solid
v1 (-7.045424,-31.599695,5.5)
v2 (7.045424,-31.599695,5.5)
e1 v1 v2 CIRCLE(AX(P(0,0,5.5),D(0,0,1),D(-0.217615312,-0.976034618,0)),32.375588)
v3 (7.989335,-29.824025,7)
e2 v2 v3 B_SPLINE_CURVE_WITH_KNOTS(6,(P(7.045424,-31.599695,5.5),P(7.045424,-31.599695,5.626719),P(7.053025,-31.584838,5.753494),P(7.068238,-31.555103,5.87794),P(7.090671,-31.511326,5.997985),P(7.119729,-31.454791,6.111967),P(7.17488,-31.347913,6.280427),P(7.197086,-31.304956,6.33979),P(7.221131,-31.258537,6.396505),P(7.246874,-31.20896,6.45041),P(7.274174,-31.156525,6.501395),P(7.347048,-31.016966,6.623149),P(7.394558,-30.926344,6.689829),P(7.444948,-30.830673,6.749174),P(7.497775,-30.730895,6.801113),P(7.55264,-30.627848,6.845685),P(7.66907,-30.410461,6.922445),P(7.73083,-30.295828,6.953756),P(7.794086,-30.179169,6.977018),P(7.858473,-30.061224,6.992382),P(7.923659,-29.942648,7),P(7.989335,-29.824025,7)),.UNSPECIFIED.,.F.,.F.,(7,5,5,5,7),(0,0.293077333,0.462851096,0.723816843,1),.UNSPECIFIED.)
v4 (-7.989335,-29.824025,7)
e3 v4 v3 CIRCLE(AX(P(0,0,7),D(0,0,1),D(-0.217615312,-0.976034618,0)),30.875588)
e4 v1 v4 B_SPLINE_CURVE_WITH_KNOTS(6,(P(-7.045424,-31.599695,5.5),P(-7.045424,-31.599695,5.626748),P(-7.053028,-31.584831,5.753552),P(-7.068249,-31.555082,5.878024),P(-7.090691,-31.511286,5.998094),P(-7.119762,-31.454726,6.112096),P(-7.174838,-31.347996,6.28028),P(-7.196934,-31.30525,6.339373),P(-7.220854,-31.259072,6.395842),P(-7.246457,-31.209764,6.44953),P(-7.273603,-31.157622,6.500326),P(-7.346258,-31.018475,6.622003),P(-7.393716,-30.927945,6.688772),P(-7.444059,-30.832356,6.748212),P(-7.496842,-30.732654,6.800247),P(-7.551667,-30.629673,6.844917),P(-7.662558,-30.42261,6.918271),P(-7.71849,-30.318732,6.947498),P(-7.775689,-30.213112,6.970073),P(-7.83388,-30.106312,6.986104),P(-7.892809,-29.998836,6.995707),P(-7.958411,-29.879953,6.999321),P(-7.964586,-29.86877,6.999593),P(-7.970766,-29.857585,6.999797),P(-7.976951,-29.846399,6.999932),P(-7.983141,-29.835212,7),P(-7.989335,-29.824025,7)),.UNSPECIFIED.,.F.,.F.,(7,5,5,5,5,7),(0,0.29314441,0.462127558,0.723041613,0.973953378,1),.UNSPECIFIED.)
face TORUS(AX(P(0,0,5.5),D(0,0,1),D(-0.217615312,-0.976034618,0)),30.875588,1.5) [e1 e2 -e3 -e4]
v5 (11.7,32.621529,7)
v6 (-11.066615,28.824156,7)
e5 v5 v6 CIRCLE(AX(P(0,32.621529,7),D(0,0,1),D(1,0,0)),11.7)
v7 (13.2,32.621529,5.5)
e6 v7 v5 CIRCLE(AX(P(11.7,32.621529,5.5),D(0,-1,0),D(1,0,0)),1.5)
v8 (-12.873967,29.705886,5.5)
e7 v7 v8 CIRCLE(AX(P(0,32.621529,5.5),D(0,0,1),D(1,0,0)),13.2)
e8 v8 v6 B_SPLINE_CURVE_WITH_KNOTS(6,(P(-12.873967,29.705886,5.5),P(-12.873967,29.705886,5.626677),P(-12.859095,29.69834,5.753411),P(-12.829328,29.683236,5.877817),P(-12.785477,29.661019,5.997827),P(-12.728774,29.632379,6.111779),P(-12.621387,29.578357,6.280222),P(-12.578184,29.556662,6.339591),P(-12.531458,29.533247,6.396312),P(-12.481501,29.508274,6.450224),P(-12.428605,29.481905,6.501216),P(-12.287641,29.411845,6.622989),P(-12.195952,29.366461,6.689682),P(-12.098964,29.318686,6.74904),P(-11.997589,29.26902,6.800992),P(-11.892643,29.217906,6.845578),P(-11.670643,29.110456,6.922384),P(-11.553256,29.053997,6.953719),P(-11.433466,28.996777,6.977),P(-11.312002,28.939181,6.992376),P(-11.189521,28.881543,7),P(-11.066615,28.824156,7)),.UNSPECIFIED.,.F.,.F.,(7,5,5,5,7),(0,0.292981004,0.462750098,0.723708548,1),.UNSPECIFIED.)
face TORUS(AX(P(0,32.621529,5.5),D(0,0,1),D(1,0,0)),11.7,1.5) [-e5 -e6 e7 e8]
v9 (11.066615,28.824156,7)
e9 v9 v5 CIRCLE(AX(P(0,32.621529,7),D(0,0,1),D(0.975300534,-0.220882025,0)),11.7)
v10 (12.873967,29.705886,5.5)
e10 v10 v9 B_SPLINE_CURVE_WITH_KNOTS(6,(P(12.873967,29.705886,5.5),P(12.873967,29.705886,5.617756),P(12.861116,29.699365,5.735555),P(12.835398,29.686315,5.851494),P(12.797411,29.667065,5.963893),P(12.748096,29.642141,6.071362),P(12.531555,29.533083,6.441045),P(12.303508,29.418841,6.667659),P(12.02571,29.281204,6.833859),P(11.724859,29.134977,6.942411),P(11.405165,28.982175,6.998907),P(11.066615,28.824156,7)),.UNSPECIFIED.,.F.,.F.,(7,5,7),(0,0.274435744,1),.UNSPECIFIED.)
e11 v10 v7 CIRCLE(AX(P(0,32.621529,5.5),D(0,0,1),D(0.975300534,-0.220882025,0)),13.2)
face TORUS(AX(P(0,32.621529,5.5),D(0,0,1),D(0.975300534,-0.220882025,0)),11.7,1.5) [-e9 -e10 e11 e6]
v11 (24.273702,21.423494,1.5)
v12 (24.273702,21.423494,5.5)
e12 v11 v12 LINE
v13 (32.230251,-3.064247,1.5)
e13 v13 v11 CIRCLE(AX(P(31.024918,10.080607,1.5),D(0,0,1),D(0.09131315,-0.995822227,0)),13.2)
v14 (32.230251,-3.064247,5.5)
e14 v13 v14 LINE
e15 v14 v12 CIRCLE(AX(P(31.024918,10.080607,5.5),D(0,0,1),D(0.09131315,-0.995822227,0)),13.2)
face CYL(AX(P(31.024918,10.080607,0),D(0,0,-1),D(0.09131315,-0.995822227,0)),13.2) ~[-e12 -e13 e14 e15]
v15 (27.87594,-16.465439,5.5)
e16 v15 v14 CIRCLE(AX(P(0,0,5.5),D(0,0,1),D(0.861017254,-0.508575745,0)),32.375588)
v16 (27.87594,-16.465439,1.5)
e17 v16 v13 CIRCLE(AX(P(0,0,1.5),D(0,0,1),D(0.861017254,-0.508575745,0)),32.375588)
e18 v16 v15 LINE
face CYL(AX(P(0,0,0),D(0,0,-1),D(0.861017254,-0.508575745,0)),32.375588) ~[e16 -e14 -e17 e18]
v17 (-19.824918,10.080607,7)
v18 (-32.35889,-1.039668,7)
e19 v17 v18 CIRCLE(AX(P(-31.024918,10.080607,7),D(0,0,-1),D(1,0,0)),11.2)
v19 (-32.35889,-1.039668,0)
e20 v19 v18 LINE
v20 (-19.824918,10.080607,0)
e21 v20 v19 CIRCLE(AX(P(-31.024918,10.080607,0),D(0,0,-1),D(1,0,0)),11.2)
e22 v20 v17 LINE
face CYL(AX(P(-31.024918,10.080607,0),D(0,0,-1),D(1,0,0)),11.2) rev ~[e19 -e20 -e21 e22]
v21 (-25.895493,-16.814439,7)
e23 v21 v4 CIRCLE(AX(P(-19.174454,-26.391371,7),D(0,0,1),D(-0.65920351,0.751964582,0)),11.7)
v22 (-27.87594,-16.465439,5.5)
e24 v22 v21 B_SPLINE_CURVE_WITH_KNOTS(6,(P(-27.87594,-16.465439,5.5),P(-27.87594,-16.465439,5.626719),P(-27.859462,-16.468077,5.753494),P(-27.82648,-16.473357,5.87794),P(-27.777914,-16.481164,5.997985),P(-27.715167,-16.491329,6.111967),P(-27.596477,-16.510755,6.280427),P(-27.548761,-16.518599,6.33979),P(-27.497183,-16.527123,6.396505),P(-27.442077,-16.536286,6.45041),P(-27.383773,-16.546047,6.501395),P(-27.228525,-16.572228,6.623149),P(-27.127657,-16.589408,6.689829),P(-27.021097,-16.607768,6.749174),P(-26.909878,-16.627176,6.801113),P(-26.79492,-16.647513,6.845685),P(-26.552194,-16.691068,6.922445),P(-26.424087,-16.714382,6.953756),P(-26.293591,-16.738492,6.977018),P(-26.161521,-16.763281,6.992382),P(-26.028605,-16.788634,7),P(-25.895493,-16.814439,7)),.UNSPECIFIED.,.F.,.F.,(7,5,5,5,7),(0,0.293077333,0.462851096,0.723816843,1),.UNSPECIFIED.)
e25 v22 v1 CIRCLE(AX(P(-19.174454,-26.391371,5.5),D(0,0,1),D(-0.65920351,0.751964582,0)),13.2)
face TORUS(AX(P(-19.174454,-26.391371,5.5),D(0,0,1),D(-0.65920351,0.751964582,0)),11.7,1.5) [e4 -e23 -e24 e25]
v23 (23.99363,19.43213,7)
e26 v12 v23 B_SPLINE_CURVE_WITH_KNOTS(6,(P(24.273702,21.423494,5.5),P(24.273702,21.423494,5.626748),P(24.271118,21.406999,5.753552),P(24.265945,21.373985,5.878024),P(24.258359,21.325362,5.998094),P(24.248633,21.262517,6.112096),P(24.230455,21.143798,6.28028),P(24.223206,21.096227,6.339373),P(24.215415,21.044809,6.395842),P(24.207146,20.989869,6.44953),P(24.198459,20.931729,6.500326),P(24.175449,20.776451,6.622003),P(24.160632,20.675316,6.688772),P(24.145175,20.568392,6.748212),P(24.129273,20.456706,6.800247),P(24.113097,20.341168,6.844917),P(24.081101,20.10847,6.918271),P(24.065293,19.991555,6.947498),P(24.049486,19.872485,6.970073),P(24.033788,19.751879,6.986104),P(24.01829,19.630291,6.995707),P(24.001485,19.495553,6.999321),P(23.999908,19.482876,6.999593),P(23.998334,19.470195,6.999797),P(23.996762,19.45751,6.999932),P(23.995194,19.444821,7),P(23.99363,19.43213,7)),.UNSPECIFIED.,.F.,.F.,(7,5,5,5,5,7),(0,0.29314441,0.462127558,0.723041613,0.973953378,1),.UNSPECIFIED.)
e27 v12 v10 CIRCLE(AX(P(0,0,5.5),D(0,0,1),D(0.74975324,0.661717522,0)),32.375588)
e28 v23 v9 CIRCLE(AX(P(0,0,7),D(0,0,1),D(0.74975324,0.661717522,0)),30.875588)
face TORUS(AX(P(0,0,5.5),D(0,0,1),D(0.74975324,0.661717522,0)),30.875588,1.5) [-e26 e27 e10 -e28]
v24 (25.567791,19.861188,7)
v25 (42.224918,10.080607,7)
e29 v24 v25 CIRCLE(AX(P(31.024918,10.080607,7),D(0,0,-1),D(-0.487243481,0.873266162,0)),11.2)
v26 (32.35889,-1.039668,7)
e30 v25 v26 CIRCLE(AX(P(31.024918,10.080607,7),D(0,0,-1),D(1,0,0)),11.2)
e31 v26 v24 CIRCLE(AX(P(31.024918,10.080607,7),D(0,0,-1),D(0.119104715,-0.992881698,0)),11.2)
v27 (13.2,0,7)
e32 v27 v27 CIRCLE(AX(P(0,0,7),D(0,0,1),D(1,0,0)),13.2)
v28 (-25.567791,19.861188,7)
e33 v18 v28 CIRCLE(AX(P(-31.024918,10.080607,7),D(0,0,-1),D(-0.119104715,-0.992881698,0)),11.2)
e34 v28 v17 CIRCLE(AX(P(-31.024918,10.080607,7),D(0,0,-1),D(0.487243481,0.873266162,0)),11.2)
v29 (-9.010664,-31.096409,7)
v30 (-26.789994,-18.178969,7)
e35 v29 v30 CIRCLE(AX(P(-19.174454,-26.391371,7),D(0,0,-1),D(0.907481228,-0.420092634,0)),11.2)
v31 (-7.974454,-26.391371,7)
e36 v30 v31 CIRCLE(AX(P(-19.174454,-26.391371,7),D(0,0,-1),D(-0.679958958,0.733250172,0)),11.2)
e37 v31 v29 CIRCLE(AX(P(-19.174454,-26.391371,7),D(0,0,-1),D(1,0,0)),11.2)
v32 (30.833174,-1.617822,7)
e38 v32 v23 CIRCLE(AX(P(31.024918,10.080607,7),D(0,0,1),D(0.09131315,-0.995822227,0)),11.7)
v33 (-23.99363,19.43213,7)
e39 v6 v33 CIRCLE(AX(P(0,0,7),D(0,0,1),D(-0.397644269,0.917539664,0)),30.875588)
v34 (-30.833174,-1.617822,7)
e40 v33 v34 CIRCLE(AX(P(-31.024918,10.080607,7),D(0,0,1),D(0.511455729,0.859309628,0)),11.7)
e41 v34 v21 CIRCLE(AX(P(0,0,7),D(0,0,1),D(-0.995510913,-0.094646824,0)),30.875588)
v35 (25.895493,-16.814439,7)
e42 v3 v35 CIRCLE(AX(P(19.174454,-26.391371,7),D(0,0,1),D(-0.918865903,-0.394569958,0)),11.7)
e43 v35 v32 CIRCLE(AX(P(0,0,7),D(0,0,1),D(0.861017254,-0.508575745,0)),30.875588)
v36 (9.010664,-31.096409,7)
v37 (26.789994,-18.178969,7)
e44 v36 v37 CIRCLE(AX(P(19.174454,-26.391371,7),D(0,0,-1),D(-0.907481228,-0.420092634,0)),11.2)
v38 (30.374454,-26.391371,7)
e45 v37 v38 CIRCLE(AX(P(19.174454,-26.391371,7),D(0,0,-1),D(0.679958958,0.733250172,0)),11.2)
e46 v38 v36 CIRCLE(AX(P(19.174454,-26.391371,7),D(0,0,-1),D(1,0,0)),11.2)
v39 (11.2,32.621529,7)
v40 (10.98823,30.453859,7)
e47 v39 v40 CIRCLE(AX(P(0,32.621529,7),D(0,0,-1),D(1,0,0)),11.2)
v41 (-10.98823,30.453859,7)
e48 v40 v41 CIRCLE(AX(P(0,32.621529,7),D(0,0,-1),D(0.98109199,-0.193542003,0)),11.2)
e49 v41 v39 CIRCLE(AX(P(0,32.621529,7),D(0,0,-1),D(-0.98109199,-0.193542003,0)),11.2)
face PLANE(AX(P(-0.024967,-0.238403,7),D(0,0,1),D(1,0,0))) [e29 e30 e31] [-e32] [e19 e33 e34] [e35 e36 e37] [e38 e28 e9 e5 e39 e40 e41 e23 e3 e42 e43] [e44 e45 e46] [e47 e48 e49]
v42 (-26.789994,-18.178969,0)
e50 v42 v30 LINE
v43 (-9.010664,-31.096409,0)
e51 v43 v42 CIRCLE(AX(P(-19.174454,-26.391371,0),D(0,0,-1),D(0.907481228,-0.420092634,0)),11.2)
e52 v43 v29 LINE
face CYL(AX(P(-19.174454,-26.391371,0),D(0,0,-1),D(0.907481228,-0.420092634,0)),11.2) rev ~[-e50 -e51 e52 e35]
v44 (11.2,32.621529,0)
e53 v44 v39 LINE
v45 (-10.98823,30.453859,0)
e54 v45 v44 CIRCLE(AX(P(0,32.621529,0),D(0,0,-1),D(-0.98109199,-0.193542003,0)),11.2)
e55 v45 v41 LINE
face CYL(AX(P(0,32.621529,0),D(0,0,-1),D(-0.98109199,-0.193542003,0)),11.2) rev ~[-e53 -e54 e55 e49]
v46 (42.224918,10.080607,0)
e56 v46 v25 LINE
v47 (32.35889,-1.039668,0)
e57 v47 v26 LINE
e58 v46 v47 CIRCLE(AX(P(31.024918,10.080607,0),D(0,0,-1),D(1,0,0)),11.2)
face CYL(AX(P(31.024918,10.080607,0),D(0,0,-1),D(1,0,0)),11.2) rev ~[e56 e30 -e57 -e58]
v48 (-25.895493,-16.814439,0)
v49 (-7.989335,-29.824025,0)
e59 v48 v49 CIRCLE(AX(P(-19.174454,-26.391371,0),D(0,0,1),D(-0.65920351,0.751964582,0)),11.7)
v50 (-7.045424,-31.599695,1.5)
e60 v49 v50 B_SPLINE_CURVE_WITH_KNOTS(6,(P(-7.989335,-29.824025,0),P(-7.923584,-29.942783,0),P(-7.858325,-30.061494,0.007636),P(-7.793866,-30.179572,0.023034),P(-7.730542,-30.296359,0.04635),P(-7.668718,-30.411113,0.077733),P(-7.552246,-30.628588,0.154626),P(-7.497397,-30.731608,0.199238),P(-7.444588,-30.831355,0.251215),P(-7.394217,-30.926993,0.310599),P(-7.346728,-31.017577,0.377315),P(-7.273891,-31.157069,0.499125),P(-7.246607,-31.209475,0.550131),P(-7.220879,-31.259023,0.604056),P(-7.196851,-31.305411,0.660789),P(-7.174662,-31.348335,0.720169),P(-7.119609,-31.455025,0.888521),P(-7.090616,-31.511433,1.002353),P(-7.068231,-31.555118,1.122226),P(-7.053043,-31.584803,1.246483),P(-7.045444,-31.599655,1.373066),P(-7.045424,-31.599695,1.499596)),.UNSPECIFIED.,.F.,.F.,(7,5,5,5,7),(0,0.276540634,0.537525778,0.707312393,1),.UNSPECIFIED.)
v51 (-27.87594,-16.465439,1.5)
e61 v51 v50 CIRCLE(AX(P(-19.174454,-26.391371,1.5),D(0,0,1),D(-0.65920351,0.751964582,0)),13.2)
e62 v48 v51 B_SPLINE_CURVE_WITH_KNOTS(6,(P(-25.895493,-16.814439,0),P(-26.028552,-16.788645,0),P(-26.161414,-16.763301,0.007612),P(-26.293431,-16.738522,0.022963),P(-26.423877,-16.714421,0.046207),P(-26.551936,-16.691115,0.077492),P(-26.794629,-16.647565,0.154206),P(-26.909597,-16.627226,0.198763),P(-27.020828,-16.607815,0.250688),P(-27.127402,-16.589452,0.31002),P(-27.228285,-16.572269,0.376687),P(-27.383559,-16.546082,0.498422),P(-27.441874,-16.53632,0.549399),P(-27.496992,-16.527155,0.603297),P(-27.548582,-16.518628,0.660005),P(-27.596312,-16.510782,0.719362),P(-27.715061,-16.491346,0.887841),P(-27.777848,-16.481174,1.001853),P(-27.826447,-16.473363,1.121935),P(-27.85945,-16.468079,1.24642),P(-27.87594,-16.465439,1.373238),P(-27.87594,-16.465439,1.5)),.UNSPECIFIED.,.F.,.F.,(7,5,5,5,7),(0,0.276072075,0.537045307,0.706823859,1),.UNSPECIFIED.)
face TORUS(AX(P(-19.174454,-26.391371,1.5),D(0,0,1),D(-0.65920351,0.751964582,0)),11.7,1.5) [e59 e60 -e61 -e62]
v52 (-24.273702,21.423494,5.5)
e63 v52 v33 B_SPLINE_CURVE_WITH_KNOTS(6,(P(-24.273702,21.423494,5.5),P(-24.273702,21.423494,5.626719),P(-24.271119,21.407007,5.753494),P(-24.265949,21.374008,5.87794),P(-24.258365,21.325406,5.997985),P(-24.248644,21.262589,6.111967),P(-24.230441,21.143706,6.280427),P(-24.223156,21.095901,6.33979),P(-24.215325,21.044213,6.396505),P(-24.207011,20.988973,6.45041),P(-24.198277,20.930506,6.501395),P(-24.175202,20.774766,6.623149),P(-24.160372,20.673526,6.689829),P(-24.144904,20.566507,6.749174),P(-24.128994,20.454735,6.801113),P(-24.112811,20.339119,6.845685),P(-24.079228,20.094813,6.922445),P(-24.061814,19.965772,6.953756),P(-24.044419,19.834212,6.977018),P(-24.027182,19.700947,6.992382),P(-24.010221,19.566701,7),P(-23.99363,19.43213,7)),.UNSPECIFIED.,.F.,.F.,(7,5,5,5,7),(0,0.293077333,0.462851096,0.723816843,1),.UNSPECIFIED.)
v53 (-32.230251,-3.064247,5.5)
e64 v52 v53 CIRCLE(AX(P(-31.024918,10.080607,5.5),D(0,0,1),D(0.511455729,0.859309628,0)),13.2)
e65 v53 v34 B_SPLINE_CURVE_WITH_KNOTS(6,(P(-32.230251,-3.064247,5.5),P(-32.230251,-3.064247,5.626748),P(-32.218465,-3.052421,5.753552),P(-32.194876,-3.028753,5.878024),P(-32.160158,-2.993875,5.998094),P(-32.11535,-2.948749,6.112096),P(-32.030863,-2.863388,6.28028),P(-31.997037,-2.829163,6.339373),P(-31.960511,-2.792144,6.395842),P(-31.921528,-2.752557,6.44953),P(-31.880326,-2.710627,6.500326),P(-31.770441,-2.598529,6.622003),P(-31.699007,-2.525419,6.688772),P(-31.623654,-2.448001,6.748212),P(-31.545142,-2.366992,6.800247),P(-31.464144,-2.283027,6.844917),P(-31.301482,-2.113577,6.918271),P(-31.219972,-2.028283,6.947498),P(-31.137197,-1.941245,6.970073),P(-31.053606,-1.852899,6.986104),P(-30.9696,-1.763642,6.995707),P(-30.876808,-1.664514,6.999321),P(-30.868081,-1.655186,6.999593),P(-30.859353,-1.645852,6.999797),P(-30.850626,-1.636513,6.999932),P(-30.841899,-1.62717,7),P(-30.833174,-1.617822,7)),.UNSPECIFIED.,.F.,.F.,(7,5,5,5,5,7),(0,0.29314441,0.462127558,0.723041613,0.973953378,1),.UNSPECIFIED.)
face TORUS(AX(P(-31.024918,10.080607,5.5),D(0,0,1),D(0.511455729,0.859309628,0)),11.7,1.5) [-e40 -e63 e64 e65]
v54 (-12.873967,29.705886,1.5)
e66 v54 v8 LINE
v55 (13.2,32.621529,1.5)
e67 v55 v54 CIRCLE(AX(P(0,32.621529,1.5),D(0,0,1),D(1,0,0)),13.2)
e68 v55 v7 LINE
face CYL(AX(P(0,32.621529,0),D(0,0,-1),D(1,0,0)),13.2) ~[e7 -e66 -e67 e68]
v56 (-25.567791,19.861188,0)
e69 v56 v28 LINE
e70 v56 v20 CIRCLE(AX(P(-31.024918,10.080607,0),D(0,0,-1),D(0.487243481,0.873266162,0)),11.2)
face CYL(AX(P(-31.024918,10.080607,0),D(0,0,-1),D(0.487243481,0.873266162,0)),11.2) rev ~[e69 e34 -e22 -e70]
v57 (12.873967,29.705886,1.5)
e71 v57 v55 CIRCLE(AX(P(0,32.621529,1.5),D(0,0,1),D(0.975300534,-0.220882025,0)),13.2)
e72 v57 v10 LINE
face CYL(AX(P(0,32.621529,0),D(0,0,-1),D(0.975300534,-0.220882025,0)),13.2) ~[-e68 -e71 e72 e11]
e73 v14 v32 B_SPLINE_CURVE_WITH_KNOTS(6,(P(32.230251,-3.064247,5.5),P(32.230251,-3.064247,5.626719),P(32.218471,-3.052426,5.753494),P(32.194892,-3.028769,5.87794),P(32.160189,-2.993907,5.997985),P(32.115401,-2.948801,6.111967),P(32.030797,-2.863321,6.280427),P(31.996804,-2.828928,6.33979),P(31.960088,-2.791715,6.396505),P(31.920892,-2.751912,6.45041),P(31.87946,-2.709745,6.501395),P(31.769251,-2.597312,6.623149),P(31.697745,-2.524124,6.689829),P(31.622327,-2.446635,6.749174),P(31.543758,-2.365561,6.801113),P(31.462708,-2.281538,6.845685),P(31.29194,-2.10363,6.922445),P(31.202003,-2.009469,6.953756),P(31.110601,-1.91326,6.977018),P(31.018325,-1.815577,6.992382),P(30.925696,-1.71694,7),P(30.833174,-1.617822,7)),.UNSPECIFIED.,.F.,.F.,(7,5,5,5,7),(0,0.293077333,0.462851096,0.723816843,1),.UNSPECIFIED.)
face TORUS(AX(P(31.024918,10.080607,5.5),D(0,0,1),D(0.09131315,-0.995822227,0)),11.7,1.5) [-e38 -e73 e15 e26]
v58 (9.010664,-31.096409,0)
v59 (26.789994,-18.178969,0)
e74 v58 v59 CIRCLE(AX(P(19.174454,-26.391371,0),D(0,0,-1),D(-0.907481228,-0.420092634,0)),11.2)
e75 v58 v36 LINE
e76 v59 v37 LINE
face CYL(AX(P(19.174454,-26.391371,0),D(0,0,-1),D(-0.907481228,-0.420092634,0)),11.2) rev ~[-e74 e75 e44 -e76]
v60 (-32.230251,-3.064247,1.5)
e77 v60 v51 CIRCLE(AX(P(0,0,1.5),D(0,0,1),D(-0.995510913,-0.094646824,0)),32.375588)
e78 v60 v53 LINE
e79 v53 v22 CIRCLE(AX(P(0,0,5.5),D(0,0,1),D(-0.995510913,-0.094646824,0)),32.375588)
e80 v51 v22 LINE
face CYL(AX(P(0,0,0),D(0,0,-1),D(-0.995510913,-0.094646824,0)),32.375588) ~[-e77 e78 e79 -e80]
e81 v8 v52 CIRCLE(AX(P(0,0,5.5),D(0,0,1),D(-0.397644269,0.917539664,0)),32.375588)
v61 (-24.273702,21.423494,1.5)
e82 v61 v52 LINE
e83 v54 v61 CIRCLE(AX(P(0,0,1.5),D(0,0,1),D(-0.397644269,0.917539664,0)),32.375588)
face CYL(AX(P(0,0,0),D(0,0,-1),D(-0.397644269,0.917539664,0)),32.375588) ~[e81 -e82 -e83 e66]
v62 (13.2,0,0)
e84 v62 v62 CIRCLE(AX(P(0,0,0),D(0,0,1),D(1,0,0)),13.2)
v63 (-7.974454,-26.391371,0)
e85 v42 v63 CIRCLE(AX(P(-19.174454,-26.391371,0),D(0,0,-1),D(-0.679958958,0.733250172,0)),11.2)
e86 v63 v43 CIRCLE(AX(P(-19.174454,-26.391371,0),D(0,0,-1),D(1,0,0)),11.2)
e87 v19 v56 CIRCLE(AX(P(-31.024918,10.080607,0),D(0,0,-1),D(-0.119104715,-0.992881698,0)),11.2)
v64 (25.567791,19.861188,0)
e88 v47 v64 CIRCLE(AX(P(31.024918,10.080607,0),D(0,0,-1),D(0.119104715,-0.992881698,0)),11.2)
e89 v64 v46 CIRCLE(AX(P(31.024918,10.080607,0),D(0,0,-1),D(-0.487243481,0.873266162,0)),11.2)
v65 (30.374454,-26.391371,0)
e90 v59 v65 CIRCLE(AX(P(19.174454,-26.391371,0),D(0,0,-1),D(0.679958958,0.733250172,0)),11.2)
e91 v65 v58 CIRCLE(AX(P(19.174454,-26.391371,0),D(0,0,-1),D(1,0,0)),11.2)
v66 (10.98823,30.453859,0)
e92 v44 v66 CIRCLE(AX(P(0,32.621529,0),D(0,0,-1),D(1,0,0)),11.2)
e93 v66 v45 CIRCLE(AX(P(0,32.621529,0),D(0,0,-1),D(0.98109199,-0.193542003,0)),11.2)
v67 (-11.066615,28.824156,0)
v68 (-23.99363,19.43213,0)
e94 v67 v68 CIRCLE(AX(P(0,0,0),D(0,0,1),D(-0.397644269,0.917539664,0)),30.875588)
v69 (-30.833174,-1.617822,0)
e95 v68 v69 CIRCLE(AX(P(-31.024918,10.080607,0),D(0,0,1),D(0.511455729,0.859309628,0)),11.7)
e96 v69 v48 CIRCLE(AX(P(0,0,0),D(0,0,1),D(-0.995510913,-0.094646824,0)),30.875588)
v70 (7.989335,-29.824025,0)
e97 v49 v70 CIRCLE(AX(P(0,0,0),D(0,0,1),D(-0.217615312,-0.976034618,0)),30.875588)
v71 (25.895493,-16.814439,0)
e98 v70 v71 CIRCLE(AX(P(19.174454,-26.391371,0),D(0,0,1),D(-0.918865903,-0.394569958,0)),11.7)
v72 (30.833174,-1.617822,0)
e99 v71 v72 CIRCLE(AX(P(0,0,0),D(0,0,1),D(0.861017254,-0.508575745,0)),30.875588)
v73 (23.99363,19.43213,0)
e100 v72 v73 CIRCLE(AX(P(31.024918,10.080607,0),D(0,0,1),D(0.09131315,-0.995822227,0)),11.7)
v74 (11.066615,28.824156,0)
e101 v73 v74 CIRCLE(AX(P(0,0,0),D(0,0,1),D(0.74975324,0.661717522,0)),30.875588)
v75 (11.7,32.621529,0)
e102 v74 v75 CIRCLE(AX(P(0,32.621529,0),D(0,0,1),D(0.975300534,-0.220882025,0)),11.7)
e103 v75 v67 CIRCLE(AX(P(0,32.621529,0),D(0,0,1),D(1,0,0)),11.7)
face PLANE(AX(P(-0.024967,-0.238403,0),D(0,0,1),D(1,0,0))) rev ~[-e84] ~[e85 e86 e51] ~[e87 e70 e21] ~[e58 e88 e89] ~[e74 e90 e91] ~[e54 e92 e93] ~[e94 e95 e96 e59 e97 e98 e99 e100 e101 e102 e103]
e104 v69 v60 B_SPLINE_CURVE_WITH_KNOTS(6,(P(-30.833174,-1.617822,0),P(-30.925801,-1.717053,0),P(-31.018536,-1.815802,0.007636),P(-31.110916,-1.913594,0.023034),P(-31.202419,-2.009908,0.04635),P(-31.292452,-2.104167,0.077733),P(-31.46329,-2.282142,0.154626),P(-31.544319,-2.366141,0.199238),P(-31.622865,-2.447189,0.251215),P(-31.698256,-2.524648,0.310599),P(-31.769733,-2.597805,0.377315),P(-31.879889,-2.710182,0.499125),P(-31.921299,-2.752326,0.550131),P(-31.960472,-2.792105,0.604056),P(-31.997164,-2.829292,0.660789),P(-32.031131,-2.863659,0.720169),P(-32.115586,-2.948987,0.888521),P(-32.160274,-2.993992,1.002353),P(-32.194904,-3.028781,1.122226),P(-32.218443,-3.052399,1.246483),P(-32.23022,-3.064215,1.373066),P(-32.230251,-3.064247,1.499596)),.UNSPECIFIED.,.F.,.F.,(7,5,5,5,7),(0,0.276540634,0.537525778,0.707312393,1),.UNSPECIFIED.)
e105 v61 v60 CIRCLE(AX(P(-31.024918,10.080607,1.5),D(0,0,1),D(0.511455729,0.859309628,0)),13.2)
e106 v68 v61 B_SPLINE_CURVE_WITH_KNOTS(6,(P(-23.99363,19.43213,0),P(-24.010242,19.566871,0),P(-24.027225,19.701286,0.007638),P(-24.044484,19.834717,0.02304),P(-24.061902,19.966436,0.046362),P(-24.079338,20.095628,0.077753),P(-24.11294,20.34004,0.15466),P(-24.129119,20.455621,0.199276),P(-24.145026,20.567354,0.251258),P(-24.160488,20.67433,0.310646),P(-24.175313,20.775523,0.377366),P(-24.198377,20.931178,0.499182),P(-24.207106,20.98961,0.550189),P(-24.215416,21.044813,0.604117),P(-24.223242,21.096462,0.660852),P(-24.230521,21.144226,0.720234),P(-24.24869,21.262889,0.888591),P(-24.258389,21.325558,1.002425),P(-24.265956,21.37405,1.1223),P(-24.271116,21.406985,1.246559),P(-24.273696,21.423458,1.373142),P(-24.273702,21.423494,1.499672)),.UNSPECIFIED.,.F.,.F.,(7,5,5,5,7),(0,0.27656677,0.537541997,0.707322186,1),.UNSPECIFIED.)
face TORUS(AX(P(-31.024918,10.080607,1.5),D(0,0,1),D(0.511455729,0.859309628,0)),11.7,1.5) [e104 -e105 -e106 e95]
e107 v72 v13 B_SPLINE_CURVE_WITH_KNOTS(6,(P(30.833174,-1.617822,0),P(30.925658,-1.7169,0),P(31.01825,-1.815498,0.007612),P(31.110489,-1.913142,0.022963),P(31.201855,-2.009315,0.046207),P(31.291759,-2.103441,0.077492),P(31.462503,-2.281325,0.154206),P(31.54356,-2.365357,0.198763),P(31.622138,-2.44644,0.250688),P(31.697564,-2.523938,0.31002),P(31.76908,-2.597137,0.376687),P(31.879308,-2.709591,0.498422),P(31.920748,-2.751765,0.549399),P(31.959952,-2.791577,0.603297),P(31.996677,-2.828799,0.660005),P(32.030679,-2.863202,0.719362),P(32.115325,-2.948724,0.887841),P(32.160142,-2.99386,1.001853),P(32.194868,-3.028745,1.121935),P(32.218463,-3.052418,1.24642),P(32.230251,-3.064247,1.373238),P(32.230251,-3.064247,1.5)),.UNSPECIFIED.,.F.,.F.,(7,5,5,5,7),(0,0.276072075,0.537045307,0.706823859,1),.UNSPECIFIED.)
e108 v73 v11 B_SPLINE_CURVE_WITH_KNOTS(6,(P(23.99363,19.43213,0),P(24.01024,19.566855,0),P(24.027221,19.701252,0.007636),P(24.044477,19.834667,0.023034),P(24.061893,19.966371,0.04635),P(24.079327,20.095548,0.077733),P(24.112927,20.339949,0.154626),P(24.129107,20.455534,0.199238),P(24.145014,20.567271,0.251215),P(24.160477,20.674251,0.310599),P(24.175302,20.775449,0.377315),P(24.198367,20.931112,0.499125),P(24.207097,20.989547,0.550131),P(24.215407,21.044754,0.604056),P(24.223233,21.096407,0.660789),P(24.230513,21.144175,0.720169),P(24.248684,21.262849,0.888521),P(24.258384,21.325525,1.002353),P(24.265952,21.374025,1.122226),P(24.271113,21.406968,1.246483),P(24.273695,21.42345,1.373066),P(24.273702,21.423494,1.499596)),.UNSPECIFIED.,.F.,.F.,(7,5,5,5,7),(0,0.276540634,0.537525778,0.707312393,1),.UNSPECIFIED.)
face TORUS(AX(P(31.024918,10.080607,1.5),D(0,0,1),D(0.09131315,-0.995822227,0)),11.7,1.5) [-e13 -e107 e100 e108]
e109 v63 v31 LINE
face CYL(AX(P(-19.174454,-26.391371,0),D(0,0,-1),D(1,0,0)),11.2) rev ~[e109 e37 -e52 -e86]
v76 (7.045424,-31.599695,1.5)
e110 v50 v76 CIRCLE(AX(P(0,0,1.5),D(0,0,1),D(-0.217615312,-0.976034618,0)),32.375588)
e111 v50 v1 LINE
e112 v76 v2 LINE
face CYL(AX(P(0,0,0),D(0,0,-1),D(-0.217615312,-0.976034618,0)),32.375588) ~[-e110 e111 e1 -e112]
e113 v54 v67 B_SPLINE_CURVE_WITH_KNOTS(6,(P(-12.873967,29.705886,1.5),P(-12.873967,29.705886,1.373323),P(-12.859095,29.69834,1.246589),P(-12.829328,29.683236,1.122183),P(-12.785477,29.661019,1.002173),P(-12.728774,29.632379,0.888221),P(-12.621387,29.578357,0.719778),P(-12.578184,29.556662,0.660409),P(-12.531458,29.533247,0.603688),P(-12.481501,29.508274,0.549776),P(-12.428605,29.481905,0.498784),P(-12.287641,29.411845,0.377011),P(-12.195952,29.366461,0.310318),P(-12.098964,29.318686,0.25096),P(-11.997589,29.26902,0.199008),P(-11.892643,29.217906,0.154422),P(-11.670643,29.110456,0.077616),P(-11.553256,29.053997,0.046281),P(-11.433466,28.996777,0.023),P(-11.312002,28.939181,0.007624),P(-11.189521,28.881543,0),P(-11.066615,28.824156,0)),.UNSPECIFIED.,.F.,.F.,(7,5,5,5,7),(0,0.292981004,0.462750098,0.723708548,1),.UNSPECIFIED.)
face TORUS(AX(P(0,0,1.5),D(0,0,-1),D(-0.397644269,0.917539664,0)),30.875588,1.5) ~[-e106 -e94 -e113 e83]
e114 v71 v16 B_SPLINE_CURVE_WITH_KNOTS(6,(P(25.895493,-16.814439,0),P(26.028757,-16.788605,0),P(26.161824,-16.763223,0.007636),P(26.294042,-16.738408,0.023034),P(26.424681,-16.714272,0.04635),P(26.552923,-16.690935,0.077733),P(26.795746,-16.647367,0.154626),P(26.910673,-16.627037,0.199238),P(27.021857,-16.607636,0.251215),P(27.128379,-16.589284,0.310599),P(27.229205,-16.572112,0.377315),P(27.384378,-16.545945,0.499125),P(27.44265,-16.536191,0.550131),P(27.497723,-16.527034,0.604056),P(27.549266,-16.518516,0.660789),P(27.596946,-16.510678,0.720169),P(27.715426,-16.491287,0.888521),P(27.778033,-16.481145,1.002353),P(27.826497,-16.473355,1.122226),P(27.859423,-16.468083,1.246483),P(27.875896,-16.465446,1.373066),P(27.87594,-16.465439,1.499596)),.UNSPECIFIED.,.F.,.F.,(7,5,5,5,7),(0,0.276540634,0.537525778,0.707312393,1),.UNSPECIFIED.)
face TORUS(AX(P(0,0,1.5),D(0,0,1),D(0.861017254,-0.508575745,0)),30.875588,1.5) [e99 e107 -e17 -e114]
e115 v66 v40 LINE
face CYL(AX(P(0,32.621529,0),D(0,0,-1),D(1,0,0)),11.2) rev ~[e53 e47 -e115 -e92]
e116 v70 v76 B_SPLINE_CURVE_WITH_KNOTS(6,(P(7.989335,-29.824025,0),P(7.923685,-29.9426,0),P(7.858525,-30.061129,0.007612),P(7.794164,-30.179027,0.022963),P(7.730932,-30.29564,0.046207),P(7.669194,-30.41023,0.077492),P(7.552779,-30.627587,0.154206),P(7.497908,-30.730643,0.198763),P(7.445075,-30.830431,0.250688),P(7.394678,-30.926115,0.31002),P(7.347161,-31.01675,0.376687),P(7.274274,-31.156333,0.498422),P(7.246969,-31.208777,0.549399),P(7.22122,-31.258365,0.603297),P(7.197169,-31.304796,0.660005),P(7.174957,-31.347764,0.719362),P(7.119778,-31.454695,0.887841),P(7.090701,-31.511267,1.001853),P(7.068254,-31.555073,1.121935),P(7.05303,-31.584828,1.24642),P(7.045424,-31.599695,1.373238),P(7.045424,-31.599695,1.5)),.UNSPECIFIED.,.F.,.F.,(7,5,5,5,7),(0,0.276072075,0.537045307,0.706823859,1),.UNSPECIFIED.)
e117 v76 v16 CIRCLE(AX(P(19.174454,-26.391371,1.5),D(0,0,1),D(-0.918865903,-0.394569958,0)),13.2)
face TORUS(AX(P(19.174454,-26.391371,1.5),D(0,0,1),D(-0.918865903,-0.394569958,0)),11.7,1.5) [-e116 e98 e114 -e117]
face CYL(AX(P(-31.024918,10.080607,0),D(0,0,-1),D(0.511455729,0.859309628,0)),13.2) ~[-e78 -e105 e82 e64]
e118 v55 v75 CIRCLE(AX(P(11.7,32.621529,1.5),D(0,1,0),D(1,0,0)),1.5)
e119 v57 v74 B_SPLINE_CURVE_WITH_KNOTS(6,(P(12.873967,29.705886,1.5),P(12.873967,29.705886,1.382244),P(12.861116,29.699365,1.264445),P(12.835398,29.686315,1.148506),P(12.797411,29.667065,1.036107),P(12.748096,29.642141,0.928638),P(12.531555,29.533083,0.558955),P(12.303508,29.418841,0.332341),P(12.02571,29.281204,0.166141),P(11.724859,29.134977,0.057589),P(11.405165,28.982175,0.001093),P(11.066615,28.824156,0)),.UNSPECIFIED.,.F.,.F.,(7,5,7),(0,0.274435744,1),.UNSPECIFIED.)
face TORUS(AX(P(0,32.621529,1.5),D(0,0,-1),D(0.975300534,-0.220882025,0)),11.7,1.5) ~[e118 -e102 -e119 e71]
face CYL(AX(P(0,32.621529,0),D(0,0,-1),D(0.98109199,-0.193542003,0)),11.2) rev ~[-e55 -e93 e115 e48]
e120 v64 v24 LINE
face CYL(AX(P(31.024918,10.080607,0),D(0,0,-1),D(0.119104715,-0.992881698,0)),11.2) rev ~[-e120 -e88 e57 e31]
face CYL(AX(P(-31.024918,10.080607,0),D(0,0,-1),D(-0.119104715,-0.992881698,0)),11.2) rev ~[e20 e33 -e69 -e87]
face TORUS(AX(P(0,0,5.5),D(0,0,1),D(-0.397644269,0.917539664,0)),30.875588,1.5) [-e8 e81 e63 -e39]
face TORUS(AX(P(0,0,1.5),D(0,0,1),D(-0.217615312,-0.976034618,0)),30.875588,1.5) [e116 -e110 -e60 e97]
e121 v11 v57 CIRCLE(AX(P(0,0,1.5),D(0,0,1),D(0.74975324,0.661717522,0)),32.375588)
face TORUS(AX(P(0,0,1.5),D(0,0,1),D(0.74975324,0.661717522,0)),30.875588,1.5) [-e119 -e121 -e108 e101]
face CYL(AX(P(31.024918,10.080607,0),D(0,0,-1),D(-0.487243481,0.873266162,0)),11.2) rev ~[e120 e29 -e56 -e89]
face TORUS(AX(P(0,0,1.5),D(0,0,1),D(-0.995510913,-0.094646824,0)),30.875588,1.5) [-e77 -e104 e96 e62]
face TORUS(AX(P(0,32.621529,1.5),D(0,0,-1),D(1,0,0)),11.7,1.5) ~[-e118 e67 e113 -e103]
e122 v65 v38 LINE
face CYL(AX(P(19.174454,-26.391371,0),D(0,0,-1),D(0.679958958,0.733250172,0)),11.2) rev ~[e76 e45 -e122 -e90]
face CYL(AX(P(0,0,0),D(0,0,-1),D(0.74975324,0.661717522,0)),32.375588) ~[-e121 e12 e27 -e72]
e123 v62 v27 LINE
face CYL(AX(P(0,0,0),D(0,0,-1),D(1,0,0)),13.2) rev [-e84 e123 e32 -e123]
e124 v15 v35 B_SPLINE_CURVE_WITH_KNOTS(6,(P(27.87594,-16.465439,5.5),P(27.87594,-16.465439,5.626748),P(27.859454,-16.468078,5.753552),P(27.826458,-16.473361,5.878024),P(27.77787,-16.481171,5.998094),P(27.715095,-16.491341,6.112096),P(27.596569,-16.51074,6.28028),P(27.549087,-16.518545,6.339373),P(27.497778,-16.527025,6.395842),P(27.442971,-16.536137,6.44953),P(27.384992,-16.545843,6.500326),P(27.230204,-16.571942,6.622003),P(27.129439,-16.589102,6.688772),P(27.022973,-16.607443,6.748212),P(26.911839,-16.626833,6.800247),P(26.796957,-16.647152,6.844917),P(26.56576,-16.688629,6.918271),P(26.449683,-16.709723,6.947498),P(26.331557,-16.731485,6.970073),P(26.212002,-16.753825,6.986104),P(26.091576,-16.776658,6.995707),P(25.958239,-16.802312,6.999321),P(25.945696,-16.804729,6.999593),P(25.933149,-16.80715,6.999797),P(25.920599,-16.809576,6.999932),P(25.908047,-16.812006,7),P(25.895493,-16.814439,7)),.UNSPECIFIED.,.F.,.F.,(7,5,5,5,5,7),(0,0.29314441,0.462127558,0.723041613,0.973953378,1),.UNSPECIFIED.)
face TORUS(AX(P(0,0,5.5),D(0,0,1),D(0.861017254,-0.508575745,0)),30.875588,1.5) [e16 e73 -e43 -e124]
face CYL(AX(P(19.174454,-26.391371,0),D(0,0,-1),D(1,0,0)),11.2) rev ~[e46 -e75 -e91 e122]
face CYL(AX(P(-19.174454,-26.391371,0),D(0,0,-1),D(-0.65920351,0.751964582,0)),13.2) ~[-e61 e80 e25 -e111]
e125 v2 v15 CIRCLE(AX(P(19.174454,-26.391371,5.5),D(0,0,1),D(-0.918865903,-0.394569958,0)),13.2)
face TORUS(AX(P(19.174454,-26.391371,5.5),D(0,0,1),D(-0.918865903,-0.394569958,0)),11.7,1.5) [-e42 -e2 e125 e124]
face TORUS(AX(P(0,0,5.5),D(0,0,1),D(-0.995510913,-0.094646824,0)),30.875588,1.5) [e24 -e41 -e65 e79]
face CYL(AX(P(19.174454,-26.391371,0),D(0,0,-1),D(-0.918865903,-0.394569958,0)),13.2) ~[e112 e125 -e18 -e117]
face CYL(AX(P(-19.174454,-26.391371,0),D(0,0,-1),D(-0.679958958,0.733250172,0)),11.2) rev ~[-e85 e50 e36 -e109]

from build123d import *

# Parameters (mm, degrees)
F0_R     = 13.2
F1_DEPTH = 7
F2_R     = 1.5
F3_R     = 1.5


with BuildPart() as f1:
    # F0 (on Top) → F1 (new body)
    with BuildSketch(Plane.XY):
        with BuildLine():
            ThreePointArc((12.8739670447, 29.7058862228), (0, 19.4215289533), (-12.8739670447, 29.7058862228))
            ThreePointArc((-12.8739670447, 29.7058862228), (-19.0298932098, 26.1924009624), (-24.2737020627, 21.4234939243))
            ThreePointArc((-24.2737020627, 21.4234939243), (-24.9329861863, 20.6524793569), (-25.5677906957, 19.861187847))
            ThreePointArc((-25.5677906957, 19.861187847), (-21.3667651094, 15.7515934164), (-19.8249176826, 10.0806068291))
            ThreePointArc((-19.8249176826, 10.0806068291), (-23.5918999728, 1.702644802), (-32.3588904909, -1.0396681921))
            ThreePointArc((-32.3588904909, -1.0396681921), (-32.3104323345, -2.0529651998), (-32.2302512664, -3.0642465726))
            ThreePointArc((-32.2302512664, -3.0642465726), (-30.7910140157, -10.0046069207), (-27.8759399522, -16.4654388199))
            ThreePointArc((-27.8759399522, -16.4654388199), (-27.3463915221, -17.3307118859), (-26.7899939569, -18.1789693752))
            ThreePointArc((-26.7899939569, -18.1789693752), (-14.694166342, -16.1265271348), (-7.974453626, -26.3913713057))
            ThreePointArc((-7.974453626, -26.3913713057), (-8.2365734556, -28.800266774), (-9.0106638719, -31.0964088013))
            ThreePointArc((-9.0106638719, -31.0964088013), (-8.031986756, -31.3634483516), (-7.0454237039, -31.5996947546))
            ThreePointArc((-7.0454237039, -31.5996947546), (0, -32.3755880835), (7.0454237039, -31.5996947546))
            ThreePointArc((7.0454237039, -31.5996947546), (8.031986756, -31.3634483516), (9.0106638719, -31.0964088013))
            ThreePointArc((9.0106638719, -31.0964088013), (12.5912588003, -17.3303809687), (26.7899939569, -18.1789693752))
            ThreePointArc((26.7899939569, -18.1789693752), (27.3463915221, -17.3307118859), (27.8759399522, -16.4654388199))
            ThreePointArc((27.8759399522, -16.4654388199), (30.7910140157, -10.0046069207), (32.2302512664, -3.0642465726))
            ThreePointArc((32.2302512664, -3.0642465726), (32.3104323345, -2.0529651998), (32.3588904909, -1.0396681921))
            ThreePointArc((32.3588904909, -1.0396681921), (20.3730847001, 6.6196164921), (25.5677906957, 19.861187847))
            ThreePointArc((25.5677906957, 19.861187847), (24.9329861863, 20.6524793569), (24.2737020627, 21.4234939243))
            ThreePointArc((24.2737020627, 21.4234939243), (19.0298932098, 26.1924009624), (12.8739670447, 29.7058862228))
        make_face()
        Circle(F0_R, mode=Mode.SUBTRACT)
        with BuildLine():
            ThreePointArc((-10.9882302897, 30.4538585216), (-1.0889951229, 43.7684608012), (11.2, 32.6215289533))
            ThreePointArc((11.2, 32.6215289533), (11.1469318479, 31.5325338304), (10.9882302897, 30.4538585216))
            ThreePointArc((10.9882302897, 30.4538585216), (11.9369586179, 30.0946460804), (12.8739670447, 29.7058862228))
            ThreePointArc((12.8739670447, 29.7058862228), (13.1182385439, 31.1546214903), (13.2, 32.6215289533))
            ThreePointArc((13.2, 32.6215289533), (-1.466907463, 45.7397674972), (-12.8739670447, 29.7058862228))
            ThreePointArc((-12.8739670447, 29.7058862228), (-11.9369586179, 30.0946460804), (-10.9882302897, 30.4538585216))
        make_face()
        with BuildLine():
            ThreePointArc((32.2302512664, -3.0642465726), (43.5788636977, 14.1596311548), (24.2737020627, 21.4234939243))
            ThreePointArc((24.2737020627, 21.4234939243), (24.9329861863, 20.6524793569), (25.5677906957, 19.861187847))
            ThreePointArc((25.5677906957, 19.861187847), (36.6959042699, 19.7387594022), (42.2249176826, 10.0806068291))
            ThreePointArc((42.2249176826, 10.0806068291), (39.4028797096, 2.6475891193), (32.3588904909, -1.0396681921))
            ThreePointArc((32.3588904909, -1.0396681921), (32.3104323345, -2.0529651998), (32.2302512664, -3.0642465726))
        make_face()
        with BuildLine():
            ThreePointArc((7.0454237039, -31.5996947546), (26.9332189563, -37.0703956315), (27.8759399522, -16.4654388199))
            ThreePointArc((27.8759399522, -16.4654388199), (27.3463915221, -17.3307118859), (26.7899939569, -18.1789693752))
            ThreePointArc((26.7899939569, -18.1789693752), (29.4392977969, -21.9110840217), (30.374453626, -26.3913713057))
            ThreePointArc((30.374453626, -26.3913713057), (21.5833490943, -37.3292514762), (9.0106638719, -31.0964088013))
            ThreePointArc((9.0106638719, -31.0964088013), (8.031986756, -31.3634483516), (7.0454237039, -31.5996947546))
        make_face()
        with BuildLine():
            ThreePointArc((-26.7899939569, -18.1789693752), (-27.3463915221, -17.3307118859), (-27.8759399522, -16.4654388199))
            ThreePointArc((-27.8759399522, -16.4654388199), (-26.9332189563, -37.0703956315), (-7.0454237039, -31.5996947546))
            ThreePointArc((-7.0454237039, -31.5996947546), (-8.031986756, -31.3634483516), (-9.0106638719, -31.0964088013))
            ThreePointArc((-9.0106638719, -31.0964088013), (-25.7576484517, -35.4523616427), (-26.7899939569, -18.1789693752))
        make_face()
        with BuildLine():
            ThreePointArc((-25.5677906957, 19.861187847), (-24.9329861863, 20.6524793569), (-24.2737020627, 21.4234939243))
            ThreePointArc((-24.2737020627, 21.4234939243), (-43.5788636977, 14.1596311548), (-32.2302512664, -3.0642465726))
            ThreePointArc((-32.2302512664, -3.0642465726), (-32.3104323345, -2.0529651998), (-32.3588904909, -1.0396681921))
            ThreePointArc((-32.3588904909, -1.0396681921), (-41.6767506651, 13.5415971661), (-25.5677906957, 19.861187847))
        make_face()
        with BuildLine():
            ThreePointArc((10.9882302897, 30.4538585216), (0, 21.4215289533), (-10.9882302897, 30.4538585216))
            ThreePointArc((-10.9882302897, 30.4538585216), (-11.9369586179, 30.0946460804), (-12.8739670447, 29.7058862228))
            ThreePointArc((-12.8739670447, 29.7058862228), (0, 19.4215289533), (12.8739670447, 29.7058862228))
            ThreePointArc((12.8739670447, 29.7058862228), (11.9369586179, 30.0946460804), (10.9882302897, 30.4538585216))
        make_face()
    extrude(amount=F1_DEPTH)

    # F2
    f2_edges = [f1.edges().sort_by_distance(p)[0] for p in [
        (-19.029893, 26.192401, 7),
        (-43.578864, 14.159631, 7),
        (-30.791014, -10.004607, 7),
        (-26.933219, -37.070396, 7),
        (0, -32.375588, 7),
        (26.933219, -37.070396, 7),
        (30.791014, -10.004607, 7),
        (43.578864, 14.159631, 7),
        (19.029893, 26.192401, 7),
        (0, 45.821529, 7),
    ]]
    fillet(f2_edges, radius=F2_R)

    # F3
    f3_edges = [f1.edges().sort_by_distance(p)[0] for p in [
        (-26.933219, -37.070396, 0),
        (26.933219, -37.070396, 0),
        (43.578864, 14.159631, 0),
        (0, 45.821529, 0),
        (-43.578864, 14.159631, 0),
        (-19.029893, 26.192401, 0),
        (19.029893, 26.192401, 0),
        (30.791014, -10.004607, 0),
        (0, -32.375588, 0),
        (-30.791014, -10.004607, 0),
    ]]
    fillet(f3_edges, radius=F3_R)


solid = f1.part
